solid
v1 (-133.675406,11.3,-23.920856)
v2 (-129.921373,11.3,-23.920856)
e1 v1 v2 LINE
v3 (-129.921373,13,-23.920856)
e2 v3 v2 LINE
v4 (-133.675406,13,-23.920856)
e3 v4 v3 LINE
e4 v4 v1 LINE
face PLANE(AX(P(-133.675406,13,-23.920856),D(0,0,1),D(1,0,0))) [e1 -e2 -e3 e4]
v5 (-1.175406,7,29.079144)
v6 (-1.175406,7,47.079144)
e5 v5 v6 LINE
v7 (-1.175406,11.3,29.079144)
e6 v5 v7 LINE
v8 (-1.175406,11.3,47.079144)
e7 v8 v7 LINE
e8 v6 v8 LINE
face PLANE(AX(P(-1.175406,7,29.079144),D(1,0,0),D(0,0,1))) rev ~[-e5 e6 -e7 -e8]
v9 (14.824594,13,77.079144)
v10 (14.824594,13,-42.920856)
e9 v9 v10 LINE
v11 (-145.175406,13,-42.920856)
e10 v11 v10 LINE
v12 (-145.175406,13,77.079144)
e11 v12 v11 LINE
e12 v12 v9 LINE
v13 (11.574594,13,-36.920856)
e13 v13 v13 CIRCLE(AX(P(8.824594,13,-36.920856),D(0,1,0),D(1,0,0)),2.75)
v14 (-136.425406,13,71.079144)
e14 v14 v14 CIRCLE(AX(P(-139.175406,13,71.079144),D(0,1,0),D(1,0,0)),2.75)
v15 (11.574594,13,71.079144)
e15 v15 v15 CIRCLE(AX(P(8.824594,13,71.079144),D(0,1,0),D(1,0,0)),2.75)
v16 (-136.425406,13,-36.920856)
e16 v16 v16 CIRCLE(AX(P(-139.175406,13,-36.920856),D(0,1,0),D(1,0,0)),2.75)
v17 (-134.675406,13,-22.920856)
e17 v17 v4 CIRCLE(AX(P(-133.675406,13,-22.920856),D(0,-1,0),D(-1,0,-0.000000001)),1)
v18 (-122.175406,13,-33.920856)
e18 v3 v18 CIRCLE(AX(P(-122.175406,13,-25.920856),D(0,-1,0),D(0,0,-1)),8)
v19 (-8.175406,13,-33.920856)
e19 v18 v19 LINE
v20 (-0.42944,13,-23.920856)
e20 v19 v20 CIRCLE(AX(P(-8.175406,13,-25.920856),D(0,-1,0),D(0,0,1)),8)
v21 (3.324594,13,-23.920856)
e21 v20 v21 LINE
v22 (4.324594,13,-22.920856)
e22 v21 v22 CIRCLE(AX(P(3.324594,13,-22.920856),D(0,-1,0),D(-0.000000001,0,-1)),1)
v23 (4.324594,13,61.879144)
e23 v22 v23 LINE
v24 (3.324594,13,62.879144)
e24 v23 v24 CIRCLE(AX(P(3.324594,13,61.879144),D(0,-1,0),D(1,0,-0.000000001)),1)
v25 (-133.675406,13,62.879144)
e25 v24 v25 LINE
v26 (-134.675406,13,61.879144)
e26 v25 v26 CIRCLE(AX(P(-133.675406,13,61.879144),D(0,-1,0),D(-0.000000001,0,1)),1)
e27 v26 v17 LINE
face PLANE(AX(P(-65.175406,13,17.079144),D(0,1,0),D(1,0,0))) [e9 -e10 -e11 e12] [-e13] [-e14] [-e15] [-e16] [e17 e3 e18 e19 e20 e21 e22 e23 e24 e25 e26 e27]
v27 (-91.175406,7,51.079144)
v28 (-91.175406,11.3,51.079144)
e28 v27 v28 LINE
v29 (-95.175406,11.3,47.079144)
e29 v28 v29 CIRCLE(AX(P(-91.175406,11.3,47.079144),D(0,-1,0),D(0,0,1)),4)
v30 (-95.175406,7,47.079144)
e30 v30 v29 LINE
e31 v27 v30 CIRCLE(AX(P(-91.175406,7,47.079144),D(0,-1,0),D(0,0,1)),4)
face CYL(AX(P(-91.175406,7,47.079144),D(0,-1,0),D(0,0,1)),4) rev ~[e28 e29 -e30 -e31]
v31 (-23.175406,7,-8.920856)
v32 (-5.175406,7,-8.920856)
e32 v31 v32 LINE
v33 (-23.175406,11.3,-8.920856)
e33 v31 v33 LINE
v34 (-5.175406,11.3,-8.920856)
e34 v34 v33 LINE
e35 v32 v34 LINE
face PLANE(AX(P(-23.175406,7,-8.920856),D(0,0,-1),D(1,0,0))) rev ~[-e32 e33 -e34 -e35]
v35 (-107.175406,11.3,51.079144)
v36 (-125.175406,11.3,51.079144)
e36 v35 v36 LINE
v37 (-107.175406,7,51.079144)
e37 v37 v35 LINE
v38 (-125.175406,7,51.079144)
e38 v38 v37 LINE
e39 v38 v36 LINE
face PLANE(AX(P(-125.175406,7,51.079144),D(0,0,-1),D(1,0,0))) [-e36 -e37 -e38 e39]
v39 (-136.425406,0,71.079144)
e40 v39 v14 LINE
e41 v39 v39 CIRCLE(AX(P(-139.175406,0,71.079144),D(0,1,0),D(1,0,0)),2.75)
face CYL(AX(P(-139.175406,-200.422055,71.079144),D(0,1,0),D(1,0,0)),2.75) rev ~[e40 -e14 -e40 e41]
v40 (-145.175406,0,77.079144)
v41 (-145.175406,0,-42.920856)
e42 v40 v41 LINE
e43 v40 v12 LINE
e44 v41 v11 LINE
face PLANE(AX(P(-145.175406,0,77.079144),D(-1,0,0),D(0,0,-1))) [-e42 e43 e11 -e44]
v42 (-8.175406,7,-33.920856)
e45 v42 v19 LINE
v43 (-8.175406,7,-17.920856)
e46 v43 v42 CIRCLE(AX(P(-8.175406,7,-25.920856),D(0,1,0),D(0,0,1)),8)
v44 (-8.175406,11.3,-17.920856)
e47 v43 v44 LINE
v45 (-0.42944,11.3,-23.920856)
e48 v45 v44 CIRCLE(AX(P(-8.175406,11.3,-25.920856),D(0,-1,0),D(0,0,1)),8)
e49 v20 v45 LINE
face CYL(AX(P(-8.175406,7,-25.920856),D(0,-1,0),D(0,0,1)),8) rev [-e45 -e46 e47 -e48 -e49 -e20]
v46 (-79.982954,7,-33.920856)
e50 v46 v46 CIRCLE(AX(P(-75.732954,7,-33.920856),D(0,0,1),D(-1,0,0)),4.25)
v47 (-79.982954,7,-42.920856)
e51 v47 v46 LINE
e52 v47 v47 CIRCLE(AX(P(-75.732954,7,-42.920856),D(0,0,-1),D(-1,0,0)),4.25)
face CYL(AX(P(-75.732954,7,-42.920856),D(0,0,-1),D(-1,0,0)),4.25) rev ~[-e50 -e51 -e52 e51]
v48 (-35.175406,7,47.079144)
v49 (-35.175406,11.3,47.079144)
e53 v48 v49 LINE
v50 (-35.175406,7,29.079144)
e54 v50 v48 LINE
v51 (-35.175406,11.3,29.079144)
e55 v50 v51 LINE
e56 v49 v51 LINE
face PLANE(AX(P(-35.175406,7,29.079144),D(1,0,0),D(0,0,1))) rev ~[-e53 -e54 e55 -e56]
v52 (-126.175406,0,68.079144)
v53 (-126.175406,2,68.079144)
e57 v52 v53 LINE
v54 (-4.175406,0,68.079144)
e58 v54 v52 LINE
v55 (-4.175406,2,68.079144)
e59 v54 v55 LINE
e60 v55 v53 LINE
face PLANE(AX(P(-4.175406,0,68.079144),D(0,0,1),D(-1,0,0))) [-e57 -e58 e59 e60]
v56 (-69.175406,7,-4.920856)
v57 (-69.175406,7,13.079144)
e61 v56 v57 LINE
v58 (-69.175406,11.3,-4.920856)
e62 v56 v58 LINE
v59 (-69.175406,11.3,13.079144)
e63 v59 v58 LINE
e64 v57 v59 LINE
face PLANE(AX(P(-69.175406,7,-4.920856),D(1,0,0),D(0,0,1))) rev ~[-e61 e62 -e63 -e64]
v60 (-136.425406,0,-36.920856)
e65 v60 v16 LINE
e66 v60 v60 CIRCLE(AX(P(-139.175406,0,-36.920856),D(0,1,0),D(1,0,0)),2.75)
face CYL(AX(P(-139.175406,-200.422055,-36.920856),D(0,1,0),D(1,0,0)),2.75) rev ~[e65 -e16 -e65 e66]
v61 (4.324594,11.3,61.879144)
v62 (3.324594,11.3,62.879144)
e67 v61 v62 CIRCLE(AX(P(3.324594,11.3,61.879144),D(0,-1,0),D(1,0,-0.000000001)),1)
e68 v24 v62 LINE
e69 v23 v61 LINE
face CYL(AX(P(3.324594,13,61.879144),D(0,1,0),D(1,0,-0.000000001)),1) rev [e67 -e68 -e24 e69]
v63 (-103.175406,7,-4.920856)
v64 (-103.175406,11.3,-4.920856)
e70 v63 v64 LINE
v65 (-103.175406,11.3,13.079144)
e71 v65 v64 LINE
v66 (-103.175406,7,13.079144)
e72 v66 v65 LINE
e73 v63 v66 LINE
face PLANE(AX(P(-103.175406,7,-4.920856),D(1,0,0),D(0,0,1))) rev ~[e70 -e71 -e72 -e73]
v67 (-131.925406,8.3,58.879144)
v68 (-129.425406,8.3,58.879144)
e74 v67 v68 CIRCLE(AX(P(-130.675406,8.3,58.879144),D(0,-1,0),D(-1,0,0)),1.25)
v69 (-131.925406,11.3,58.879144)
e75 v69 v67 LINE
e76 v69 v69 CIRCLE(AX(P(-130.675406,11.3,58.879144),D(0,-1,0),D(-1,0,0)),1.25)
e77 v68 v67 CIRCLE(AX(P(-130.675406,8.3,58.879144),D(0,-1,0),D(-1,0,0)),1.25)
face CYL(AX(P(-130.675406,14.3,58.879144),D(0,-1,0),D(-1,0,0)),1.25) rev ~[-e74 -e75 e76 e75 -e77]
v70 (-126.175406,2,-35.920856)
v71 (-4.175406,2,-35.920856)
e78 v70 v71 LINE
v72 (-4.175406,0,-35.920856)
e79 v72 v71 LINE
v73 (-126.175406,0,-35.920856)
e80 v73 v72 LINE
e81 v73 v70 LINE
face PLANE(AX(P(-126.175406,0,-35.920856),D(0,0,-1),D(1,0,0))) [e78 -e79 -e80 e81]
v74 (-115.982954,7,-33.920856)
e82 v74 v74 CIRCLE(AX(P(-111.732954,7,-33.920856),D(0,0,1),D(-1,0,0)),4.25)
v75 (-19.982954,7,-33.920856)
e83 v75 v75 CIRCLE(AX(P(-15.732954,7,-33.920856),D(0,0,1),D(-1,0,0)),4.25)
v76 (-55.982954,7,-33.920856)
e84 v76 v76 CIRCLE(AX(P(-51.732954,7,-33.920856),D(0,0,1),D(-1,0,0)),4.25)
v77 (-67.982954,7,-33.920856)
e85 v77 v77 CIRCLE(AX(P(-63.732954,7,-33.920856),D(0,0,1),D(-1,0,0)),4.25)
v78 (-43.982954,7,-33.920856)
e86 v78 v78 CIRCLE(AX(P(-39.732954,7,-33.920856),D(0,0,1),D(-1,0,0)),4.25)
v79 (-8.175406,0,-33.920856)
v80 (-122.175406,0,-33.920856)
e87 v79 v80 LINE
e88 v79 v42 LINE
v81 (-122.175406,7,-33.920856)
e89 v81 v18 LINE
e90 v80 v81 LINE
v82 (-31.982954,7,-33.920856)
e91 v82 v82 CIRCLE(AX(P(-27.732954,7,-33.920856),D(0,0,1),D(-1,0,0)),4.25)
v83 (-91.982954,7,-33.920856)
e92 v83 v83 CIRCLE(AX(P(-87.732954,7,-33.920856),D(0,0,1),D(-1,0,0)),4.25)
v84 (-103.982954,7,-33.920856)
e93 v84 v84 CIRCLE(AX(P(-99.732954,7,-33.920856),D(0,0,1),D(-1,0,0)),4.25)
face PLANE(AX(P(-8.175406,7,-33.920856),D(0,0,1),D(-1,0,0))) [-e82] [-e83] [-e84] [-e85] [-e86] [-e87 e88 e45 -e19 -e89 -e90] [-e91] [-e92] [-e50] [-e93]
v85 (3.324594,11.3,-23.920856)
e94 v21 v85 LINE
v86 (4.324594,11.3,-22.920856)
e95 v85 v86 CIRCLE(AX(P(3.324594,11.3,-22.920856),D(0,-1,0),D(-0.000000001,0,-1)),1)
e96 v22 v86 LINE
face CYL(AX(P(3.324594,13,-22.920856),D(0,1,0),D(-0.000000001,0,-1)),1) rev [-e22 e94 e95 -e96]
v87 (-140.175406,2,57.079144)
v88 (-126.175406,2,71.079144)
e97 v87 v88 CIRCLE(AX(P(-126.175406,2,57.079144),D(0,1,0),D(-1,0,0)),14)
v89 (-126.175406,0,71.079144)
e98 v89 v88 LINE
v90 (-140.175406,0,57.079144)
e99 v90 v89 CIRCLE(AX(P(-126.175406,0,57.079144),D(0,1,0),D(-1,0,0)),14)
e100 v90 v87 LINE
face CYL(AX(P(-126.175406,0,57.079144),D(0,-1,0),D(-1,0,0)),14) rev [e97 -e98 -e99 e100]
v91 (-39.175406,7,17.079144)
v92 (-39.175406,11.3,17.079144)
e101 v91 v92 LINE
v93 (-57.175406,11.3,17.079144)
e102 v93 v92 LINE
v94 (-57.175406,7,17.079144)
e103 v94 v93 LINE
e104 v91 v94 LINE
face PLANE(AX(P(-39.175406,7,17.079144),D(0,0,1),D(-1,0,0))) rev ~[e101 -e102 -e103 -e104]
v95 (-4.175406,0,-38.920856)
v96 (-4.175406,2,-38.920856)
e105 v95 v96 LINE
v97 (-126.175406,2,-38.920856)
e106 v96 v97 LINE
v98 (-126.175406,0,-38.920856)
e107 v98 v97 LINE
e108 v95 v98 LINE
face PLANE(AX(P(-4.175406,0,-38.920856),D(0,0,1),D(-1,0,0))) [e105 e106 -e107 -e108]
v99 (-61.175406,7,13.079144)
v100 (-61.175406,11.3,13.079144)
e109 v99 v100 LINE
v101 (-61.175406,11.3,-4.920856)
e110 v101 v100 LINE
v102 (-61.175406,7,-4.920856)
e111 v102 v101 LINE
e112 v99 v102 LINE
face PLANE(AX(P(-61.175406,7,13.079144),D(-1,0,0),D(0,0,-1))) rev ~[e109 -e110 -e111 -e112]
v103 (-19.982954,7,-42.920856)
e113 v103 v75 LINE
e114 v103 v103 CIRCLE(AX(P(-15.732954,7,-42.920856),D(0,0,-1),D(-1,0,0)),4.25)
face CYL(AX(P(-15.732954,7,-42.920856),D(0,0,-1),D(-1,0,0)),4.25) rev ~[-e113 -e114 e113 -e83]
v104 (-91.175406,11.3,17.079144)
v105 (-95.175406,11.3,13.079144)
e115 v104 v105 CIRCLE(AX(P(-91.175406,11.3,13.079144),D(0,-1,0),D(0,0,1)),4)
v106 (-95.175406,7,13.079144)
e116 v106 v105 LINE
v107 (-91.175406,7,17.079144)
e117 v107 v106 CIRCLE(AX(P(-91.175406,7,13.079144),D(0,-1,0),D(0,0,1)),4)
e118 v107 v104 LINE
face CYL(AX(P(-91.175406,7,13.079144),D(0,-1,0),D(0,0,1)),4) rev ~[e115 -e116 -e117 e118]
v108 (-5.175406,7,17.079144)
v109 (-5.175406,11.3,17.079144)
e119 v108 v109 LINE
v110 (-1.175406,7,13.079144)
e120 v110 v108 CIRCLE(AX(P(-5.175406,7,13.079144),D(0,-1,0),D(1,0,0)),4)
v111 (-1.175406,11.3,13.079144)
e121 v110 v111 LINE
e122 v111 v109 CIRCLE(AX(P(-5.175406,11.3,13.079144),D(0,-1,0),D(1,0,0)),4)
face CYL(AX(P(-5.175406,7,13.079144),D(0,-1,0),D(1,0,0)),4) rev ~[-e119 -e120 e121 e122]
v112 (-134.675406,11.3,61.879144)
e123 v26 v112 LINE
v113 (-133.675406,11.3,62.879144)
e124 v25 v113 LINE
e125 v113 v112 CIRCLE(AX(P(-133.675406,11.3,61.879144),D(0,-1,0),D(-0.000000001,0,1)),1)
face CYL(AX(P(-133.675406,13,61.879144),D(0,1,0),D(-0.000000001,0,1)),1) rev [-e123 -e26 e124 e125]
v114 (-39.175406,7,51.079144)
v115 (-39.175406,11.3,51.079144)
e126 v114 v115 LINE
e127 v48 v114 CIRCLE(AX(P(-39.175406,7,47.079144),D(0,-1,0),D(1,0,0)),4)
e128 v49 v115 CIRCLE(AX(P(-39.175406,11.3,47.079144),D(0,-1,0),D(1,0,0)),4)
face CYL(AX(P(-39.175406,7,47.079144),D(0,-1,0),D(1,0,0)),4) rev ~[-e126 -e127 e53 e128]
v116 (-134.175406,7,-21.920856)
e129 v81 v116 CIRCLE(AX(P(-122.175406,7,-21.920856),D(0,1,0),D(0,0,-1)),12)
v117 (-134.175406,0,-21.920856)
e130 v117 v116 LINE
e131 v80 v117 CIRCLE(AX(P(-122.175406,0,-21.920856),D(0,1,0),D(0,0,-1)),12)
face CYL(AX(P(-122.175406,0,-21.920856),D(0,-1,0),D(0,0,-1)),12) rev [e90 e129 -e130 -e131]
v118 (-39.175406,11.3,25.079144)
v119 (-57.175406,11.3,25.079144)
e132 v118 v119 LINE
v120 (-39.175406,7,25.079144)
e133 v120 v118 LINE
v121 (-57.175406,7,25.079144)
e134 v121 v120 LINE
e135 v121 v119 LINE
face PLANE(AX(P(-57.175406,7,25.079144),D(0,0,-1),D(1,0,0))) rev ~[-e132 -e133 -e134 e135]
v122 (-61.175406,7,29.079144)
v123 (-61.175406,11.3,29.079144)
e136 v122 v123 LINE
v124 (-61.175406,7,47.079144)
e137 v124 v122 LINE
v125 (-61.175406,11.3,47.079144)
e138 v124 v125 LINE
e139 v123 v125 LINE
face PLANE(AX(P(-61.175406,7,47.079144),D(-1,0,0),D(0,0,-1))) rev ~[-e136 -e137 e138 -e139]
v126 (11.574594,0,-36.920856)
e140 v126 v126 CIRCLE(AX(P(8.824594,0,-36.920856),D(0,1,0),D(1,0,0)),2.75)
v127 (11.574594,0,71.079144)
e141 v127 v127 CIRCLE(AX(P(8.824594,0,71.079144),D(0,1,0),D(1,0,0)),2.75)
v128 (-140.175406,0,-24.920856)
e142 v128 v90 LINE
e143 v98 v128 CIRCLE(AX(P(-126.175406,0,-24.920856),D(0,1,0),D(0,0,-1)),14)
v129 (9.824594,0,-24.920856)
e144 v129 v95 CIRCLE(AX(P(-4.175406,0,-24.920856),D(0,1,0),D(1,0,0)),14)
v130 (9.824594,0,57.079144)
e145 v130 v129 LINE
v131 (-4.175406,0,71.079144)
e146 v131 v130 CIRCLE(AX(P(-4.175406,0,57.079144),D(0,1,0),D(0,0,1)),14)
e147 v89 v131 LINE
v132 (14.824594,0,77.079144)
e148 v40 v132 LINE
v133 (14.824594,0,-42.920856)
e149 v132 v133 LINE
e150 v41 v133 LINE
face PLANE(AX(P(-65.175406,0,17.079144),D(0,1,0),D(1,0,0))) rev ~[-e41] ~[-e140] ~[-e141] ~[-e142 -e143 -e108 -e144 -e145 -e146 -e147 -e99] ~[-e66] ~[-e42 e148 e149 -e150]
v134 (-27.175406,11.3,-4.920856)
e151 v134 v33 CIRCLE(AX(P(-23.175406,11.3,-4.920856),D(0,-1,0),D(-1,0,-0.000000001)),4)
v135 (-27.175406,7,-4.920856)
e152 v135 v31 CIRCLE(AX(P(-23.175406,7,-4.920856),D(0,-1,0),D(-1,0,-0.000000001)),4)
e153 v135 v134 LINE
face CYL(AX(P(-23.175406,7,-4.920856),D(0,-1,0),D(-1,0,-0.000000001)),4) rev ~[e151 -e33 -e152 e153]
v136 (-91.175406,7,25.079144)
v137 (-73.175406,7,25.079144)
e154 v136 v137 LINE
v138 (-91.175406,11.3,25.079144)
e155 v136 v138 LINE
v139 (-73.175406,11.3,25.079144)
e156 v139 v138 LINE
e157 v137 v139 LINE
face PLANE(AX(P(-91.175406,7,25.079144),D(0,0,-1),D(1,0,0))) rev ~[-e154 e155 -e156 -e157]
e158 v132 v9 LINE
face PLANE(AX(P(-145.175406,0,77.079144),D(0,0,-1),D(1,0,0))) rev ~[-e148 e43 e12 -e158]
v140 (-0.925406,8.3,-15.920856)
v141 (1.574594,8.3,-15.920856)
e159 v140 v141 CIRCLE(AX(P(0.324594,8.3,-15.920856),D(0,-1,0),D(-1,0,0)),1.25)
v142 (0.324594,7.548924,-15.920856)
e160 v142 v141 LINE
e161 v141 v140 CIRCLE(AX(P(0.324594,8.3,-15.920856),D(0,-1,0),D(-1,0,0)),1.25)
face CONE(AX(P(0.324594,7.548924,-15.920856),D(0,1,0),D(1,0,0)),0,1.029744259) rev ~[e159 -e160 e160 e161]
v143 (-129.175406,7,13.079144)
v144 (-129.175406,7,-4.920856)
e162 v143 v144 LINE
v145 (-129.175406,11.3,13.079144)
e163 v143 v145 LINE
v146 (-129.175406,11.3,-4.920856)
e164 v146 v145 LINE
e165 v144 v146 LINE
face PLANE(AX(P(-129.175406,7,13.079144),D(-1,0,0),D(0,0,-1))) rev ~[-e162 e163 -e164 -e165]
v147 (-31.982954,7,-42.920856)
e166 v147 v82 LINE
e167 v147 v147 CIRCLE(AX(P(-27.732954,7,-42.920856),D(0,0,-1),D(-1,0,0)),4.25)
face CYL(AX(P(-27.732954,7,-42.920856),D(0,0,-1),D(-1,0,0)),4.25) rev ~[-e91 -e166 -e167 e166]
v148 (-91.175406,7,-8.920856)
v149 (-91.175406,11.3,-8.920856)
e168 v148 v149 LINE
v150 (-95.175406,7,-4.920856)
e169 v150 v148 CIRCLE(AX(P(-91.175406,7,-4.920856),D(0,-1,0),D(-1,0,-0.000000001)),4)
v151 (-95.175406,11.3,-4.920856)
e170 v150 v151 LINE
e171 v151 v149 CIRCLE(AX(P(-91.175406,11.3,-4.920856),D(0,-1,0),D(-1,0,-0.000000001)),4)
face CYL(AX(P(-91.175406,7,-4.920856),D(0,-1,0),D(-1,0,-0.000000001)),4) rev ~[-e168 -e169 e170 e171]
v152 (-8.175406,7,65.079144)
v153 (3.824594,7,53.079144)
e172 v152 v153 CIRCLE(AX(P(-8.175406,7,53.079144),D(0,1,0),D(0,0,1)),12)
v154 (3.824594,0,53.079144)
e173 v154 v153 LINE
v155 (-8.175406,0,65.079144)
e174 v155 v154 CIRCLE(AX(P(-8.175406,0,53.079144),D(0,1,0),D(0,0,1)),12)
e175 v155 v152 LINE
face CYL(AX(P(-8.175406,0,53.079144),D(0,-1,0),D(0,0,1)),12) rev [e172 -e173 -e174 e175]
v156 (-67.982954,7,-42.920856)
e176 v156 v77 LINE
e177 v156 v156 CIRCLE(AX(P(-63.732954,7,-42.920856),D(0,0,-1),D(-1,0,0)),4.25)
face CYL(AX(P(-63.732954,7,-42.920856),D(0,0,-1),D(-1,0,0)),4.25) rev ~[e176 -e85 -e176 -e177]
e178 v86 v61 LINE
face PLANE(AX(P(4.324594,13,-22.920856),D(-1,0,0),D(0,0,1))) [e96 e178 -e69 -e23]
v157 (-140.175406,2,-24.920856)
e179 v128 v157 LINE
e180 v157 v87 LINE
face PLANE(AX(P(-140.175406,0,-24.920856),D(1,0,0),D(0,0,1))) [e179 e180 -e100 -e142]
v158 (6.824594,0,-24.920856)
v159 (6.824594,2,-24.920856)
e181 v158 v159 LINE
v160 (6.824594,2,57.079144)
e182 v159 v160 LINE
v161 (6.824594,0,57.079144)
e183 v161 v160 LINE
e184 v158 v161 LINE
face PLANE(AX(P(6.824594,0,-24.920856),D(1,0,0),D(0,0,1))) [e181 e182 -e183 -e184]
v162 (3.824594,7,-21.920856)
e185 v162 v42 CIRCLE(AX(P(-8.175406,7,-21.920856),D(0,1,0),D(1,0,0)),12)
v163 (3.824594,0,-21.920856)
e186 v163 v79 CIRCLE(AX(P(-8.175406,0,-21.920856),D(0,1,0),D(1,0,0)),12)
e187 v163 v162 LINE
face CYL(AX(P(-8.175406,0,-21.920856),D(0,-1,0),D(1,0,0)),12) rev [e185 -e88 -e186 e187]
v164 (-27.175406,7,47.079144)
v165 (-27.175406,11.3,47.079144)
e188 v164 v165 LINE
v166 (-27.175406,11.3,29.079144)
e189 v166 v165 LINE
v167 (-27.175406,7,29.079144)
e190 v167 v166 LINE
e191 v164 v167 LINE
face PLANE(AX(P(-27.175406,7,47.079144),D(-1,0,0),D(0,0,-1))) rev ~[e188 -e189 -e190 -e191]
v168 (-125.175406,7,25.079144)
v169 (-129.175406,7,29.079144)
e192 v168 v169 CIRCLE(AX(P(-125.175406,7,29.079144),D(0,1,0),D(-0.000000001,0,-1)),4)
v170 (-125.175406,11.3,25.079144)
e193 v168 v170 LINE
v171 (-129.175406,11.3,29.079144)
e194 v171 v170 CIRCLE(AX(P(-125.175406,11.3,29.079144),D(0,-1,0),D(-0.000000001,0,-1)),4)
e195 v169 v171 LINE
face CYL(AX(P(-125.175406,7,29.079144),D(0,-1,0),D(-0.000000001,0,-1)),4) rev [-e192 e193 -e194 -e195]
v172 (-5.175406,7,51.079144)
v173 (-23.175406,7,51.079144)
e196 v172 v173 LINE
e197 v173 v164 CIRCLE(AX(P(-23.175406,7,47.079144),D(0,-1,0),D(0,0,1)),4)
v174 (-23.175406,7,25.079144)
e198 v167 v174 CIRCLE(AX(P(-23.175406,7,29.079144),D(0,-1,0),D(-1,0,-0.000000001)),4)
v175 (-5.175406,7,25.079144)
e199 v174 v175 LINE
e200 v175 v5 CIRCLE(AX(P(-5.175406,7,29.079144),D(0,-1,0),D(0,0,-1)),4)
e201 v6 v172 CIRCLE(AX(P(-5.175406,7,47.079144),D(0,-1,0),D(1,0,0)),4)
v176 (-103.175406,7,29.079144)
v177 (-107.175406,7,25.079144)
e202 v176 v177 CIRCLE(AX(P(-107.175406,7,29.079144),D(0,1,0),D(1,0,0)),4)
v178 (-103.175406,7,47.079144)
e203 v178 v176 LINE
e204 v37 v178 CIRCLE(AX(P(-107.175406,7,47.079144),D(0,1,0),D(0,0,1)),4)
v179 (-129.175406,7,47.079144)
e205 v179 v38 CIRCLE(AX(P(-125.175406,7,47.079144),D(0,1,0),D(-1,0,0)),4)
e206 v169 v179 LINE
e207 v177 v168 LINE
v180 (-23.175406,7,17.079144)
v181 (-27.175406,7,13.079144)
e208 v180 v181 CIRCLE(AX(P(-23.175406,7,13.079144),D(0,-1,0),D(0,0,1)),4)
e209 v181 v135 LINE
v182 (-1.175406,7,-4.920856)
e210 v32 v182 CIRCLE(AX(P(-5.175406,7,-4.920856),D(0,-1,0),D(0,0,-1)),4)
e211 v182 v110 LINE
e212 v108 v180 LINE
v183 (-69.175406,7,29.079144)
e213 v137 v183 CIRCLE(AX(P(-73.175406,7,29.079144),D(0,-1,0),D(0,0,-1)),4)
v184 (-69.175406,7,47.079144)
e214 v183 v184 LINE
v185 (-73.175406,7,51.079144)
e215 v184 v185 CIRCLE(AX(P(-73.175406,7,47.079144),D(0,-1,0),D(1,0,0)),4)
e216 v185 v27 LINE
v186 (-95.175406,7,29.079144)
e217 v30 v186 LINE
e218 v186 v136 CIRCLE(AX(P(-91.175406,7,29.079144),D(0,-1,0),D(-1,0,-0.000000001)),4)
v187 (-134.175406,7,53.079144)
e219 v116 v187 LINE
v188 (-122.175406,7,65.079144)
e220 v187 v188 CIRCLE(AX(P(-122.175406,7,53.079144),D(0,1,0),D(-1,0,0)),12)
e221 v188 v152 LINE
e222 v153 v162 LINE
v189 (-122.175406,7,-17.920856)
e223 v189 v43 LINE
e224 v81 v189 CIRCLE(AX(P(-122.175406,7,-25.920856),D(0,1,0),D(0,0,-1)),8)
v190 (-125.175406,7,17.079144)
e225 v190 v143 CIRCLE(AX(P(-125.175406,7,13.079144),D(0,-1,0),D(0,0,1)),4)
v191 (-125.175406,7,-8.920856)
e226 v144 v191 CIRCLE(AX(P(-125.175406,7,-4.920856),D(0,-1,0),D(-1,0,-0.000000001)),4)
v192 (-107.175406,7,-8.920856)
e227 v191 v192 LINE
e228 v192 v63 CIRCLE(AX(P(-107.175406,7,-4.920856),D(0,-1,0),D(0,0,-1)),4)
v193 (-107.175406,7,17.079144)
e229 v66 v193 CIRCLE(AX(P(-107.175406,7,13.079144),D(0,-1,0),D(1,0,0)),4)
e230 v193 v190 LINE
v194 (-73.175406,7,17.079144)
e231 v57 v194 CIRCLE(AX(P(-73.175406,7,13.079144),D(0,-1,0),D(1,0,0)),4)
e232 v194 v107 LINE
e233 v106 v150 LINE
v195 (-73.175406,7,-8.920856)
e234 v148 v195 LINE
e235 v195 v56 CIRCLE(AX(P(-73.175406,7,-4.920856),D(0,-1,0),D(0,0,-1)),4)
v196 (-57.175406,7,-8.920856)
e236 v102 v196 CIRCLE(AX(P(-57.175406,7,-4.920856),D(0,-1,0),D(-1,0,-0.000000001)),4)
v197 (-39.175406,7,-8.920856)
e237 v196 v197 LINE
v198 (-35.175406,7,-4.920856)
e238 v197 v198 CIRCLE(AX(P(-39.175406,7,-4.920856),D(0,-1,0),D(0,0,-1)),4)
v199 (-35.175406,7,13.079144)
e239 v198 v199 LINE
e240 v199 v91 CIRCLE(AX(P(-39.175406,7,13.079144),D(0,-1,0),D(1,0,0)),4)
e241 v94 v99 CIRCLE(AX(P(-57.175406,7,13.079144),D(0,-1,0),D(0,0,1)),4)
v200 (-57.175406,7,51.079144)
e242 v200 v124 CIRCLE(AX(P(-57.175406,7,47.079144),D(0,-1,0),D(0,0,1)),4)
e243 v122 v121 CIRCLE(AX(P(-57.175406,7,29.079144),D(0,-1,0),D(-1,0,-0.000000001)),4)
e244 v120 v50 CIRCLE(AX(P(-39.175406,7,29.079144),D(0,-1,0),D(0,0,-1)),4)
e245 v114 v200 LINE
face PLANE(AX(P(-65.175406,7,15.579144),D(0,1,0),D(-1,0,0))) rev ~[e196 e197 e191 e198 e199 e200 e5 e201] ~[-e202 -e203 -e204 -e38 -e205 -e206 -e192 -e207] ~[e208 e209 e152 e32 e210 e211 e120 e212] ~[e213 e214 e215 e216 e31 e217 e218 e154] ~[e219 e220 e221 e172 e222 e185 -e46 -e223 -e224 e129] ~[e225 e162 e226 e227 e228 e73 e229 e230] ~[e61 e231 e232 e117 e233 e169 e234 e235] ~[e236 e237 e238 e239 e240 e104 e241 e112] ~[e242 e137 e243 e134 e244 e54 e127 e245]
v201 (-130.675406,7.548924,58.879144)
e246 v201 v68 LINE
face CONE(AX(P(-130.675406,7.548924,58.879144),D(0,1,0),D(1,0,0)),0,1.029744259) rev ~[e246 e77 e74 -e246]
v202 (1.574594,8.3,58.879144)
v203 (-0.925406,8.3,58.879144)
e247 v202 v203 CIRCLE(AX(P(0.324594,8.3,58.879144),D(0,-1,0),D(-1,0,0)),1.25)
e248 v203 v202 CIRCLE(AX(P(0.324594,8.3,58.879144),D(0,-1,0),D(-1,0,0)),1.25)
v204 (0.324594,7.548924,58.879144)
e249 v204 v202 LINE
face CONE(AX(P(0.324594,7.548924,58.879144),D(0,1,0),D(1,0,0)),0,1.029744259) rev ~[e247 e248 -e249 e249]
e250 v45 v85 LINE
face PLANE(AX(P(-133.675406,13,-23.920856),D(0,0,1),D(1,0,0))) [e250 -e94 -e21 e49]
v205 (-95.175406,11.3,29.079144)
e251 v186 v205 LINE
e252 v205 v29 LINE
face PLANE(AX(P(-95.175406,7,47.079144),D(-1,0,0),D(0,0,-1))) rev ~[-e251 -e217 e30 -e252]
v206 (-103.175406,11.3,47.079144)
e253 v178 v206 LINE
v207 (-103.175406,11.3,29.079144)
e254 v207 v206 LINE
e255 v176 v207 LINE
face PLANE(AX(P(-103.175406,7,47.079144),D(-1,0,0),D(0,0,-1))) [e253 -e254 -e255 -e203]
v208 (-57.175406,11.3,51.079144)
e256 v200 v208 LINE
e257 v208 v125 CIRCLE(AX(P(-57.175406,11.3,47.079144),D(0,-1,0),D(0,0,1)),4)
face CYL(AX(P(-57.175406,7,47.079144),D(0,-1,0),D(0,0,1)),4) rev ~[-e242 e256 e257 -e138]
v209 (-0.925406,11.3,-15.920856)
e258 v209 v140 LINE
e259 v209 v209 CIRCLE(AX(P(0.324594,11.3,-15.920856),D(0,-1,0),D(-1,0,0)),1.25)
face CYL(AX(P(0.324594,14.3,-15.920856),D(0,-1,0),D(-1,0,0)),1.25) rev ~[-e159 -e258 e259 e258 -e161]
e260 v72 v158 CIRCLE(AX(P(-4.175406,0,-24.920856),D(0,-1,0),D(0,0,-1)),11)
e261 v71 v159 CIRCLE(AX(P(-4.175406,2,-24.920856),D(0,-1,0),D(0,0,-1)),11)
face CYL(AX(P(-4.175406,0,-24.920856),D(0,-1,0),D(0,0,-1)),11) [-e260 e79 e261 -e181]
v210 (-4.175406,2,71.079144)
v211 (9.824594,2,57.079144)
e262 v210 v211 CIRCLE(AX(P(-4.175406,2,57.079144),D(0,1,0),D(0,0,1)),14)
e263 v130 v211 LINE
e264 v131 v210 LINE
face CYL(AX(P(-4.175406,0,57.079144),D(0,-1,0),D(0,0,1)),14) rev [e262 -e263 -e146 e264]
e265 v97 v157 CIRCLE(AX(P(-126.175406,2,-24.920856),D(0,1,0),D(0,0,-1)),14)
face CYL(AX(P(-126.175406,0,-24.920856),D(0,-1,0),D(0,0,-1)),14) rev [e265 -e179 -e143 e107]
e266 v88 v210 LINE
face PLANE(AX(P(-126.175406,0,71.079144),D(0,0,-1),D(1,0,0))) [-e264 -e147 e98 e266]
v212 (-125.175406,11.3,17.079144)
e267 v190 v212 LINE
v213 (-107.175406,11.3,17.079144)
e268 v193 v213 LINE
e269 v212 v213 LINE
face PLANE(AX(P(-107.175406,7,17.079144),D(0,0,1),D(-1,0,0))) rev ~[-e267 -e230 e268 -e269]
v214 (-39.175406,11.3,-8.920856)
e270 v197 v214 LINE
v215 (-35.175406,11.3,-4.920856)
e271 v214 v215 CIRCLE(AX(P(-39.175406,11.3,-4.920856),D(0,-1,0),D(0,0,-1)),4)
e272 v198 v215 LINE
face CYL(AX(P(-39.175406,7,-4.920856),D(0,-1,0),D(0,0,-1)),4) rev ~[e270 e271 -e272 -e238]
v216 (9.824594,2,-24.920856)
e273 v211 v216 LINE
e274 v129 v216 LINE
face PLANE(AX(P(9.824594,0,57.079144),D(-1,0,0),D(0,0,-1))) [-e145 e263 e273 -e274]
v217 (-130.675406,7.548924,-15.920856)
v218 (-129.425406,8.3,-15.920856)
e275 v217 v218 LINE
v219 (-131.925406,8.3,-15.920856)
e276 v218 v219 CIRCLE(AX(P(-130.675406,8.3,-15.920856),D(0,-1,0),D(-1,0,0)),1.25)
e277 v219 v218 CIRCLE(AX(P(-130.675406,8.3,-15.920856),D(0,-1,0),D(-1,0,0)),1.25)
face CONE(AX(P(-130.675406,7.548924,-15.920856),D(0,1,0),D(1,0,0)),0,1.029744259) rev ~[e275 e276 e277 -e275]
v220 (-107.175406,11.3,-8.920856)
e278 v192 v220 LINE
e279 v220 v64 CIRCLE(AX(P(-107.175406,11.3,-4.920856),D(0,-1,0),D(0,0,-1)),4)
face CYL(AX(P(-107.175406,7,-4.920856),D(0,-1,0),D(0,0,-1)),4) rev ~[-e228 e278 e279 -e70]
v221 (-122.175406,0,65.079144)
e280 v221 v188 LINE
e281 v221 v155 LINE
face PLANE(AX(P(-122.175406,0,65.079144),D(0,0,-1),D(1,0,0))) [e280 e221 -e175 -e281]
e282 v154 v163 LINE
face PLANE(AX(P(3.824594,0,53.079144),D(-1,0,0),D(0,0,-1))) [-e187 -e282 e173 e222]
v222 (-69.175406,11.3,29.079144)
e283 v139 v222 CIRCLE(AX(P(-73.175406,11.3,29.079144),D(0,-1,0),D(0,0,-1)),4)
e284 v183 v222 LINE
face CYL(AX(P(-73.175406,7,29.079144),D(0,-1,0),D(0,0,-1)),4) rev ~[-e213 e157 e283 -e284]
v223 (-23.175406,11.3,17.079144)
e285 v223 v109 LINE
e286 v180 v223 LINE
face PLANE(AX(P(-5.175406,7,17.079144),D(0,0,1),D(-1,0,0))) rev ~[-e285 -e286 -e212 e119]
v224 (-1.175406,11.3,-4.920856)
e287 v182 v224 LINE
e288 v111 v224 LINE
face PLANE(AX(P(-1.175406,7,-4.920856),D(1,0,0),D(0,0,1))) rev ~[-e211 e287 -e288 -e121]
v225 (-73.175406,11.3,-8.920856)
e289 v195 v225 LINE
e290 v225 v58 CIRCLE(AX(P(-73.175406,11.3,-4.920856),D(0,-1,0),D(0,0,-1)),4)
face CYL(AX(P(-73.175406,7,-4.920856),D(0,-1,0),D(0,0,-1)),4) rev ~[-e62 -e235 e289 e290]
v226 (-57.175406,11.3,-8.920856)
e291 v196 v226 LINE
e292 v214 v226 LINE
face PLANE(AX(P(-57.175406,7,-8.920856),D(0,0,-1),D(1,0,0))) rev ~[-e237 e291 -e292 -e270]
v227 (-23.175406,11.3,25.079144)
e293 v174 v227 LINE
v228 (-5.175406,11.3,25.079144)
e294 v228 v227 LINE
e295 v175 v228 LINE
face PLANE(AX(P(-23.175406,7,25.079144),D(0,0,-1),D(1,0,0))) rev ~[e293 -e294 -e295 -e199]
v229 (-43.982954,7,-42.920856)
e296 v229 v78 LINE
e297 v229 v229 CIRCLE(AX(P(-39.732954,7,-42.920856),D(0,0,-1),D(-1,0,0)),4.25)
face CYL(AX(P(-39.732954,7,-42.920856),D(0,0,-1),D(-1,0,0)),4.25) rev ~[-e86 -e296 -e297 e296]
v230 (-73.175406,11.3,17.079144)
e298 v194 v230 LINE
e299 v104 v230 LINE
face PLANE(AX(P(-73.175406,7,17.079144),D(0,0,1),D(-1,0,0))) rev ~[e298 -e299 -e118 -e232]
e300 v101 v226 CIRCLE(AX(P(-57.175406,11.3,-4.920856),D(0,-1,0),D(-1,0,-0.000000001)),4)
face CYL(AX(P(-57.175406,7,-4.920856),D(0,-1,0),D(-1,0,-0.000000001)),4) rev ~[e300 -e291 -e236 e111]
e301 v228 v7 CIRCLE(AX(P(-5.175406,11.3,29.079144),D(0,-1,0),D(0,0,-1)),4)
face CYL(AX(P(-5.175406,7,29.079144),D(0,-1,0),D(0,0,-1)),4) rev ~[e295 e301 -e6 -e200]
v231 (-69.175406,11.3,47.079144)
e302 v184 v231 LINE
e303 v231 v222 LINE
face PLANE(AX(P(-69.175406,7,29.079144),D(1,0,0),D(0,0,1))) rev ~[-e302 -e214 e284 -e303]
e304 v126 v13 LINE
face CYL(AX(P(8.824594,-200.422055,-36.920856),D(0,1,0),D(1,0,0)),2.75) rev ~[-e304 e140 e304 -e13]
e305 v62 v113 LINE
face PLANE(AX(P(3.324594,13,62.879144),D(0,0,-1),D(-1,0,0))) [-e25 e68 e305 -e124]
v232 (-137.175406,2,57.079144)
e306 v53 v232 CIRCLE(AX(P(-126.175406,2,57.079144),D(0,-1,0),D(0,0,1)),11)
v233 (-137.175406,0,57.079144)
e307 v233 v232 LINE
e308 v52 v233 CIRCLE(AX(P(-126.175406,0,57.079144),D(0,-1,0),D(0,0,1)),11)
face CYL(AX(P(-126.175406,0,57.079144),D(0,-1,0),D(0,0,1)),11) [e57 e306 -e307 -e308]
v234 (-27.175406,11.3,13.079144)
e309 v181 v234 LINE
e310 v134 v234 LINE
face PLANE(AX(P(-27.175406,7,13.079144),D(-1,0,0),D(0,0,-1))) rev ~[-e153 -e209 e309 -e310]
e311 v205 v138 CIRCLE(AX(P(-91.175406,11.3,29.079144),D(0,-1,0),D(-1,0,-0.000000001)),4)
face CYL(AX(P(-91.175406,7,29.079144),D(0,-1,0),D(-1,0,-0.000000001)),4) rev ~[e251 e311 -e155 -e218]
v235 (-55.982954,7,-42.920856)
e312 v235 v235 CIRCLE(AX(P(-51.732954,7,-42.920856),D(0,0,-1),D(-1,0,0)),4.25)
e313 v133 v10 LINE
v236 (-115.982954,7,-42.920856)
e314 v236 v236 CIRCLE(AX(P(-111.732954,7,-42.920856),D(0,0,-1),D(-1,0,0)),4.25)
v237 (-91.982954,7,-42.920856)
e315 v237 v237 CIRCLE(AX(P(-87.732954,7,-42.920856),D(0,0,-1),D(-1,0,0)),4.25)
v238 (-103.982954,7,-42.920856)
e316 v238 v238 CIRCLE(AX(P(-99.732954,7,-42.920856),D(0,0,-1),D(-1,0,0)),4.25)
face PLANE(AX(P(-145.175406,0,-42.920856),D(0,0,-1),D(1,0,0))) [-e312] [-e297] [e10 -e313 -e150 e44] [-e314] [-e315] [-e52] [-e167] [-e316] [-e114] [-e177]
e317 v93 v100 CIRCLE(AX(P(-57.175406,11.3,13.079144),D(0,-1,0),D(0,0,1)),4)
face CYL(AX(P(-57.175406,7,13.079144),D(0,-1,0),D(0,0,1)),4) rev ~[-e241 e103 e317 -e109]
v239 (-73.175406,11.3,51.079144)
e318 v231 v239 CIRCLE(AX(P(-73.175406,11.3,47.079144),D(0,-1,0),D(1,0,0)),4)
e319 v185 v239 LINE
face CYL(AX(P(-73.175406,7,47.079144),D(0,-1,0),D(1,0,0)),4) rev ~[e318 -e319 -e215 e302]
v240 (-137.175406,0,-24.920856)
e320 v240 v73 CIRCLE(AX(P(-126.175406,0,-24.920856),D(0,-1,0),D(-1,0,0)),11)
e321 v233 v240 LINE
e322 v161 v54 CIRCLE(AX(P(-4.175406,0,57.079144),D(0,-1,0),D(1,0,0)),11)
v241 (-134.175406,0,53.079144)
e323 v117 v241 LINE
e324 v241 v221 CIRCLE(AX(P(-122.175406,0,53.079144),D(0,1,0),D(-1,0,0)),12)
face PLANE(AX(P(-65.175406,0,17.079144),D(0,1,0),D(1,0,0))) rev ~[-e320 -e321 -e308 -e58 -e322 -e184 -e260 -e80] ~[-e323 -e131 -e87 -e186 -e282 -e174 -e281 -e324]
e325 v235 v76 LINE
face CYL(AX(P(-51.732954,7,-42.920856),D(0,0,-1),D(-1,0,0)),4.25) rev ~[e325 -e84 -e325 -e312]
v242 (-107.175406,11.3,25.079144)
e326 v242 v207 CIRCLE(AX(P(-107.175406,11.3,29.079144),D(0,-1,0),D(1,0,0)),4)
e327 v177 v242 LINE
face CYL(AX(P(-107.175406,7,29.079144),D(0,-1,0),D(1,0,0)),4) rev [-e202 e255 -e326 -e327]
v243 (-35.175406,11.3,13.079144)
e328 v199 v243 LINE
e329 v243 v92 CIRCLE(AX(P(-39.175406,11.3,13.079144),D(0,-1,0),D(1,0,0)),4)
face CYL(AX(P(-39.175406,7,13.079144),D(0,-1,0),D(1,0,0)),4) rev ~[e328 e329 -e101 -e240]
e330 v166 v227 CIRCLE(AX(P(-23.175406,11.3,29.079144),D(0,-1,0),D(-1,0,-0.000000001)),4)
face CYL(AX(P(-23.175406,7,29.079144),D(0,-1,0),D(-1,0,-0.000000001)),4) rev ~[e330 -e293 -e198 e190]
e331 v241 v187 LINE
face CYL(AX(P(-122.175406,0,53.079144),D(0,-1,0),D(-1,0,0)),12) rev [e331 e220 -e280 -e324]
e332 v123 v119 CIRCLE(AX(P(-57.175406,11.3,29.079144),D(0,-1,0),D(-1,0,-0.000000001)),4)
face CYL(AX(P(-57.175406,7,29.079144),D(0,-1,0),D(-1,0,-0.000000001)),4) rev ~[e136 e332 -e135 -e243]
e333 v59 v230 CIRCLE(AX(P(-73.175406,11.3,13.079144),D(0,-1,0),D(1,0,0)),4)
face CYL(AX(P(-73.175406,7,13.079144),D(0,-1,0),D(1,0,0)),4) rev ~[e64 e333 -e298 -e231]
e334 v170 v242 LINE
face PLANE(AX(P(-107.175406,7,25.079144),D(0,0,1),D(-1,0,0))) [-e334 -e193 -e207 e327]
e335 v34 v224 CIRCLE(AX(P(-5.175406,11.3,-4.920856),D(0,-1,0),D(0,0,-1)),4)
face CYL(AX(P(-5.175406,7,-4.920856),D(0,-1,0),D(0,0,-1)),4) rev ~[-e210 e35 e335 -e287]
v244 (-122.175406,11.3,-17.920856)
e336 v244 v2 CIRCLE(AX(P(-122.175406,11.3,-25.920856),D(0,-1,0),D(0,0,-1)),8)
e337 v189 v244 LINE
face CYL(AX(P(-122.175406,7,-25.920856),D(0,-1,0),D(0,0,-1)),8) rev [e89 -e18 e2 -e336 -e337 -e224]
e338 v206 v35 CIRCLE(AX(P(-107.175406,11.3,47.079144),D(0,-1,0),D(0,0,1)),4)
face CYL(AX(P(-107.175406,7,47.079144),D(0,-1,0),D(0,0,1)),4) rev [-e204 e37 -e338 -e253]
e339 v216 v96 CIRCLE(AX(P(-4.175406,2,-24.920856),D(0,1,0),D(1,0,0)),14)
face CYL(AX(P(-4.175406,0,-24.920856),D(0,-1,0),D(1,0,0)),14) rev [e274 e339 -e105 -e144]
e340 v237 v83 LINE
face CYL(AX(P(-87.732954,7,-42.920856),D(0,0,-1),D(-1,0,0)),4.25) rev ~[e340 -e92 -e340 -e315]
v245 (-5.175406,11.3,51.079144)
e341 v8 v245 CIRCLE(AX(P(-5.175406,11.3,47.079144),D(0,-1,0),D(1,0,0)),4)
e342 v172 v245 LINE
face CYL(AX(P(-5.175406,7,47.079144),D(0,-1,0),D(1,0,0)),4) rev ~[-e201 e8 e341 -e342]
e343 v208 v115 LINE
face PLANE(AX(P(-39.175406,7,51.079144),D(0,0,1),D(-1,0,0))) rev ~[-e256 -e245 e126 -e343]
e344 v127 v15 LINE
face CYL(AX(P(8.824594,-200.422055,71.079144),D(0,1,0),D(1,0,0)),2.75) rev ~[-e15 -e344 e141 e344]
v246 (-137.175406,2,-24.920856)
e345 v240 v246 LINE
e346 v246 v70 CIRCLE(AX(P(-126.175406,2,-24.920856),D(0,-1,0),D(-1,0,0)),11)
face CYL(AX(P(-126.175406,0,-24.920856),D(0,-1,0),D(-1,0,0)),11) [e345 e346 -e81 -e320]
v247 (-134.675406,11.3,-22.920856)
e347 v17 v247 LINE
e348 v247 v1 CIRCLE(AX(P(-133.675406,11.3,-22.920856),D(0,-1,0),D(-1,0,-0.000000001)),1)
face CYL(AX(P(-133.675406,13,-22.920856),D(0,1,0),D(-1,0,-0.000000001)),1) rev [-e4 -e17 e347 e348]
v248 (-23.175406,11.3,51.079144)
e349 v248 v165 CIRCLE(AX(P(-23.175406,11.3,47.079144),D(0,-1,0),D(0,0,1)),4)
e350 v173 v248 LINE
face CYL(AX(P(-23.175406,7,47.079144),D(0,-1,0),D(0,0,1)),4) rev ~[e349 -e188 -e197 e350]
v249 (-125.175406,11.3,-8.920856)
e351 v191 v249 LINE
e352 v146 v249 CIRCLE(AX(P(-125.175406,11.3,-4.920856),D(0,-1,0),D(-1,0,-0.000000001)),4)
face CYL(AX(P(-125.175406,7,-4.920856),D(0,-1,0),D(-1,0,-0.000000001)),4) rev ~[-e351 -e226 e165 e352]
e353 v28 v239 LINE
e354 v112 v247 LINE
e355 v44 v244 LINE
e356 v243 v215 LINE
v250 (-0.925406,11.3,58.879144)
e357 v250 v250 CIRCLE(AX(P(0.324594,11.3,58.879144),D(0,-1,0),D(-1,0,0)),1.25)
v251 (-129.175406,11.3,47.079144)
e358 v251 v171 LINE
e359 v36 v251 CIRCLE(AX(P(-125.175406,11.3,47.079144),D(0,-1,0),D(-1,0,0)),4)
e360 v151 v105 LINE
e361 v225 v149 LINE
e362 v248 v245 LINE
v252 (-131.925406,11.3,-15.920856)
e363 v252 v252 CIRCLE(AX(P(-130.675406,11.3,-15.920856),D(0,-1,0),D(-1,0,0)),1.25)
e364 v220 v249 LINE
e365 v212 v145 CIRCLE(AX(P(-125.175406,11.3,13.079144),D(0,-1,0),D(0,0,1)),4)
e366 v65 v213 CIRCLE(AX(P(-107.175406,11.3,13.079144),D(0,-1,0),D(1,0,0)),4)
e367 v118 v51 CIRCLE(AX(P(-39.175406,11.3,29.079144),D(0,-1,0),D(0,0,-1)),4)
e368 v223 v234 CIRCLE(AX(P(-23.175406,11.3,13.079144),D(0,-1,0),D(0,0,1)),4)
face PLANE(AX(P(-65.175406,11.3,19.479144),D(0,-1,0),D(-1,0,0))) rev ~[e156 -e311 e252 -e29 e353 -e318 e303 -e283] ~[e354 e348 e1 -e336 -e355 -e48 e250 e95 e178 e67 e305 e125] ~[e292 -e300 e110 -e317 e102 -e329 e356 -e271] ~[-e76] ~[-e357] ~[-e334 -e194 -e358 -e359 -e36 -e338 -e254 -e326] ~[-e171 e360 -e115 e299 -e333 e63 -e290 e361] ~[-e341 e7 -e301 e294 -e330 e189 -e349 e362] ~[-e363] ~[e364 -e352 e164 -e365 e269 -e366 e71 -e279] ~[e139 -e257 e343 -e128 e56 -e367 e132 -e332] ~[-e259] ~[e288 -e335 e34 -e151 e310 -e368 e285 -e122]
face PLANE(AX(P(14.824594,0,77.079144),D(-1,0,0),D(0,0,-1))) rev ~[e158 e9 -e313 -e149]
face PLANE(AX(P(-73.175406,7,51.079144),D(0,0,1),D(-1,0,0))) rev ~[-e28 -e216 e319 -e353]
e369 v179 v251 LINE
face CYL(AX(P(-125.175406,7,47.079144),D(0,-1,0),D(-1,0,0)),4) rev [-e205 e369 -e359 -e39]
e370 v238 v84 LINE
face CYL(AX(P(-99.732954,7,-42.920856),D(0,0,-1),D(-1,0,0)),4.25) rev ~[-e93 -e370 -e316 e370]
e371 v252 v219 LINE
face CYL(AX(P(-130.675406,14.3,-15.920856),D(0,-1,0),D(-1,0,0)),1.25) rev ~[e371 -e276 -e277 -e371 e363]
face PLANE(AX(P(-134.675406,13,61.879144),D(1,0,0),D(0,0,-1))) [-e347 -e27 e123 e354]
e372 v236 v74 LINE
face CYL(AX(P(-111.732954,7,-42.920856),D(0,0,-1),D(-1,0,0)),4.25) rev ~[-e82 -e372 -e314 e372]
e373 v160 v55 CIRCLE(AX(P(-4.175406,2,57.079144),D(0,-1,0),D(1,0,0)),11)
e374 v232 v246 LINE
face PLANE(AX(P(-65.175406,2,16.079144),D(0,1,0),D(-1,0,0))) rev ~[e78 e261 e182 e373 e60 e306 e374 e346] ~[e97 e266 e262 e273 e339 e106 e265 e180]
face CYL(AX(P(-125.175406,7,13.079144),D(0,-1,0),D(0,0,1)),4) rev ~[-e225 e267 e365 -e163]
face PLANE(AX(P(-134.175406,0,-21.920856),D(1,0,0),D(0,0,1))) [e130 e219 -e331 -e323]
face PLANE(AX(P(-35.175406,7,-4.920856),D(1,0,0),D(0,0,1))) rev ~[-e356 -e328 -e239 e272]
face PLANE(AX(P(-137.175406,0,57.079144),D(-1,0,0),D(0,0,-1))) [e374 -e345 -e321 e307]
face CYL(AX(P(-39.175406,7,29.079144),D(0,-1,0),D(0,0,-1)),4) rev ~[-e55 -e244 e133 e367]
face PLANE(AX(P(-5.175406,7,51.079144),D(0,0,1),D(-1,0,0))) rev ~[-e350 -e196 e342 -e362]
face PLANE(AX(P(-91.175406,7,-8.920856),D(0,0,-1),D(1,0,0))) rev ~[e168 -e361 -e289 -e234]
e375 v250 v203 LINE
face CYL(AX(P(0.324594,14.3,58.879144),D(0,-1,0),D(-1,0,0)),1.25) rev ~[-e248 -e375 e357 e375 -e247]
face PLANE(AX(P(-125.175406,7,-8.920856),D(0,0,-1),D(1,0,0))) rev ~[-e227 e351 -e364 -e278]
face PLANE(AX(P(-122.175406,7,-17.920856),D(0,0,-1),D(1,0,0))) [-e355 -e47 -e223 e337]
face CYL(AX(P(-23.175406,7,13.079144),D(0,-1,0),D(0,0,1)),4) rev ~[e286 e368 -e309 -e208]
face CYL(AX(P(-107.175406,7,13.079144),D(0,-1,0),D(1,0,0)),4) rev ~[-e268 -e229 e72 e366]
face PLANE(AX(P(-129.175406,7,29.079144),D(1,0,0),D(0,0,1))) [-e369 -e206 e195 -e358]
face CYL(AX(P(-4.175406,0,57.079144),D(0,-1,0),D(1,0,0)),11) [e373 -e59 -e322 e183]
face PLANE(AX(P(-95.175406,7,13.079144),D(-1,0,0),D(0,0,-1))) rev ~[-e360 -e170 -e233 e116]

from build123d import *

# Parameters (mm, degrees)
ESQUISSE1_W                                   = 160
ESQUISSE1_H                                   = 120
BOSS_EXTRU_1_DEPTH                            = 13
ESQUISSE5_R                                   = 4.25
ENL_V_MAT_EXTRU_2_DEPTH                       = 12
ENL_V_MAT_EXTRU_6_DEPTH                       = 2
ENL_V_MAT_EXTRU_1_DEPTH                       = 7
ENL_V_MAT_EXTRU_3_DEPTH                       = 165.517759053
ENL_V_MAT_EXTRU_5_DEPTH                       = 165.517759053
D_GAGEMENT_M51_D                              = 5.5
ENL_V_MAT_EXTRU_7_DEPTH                       = 1.7
TROU_POUR_TARAUDAGE_POUR_TROU_TARAUD_M3_D     = 2.5
TROU_POUR_TARAUDAGE_POUR_TROU_TARAUD_M3_DEPTH = 3
TROU_POUR_TARAUDAGE_POUR_TROU_TARAUD_M3_TIP   = 0.751075774


with BuildPart() as part:
    # Esquisse1 → Boss.-Extru.1 (new body)
    with BuildSketch(Plane(origin=(0, 0, 0), x_dir=(1, 0, 0), z_dir=(0, 1, 0))):
        with Locations((-65.175406235, -17.079144186)):
            Rectangle(ESQUISSE1_W, ESQUISSE1_H)
    extrude(amount=BOSS_EXTRU_1_DEPTH)

    # Esquisse5 → Enlèv. mat.-Extru.2 (cut)
    with BuildSketch(Plane(origin=(0, 0, -42.920855814), x_dir=(-1, 0, 0), z_dir=(0, 0, -1))):
        with Locations((111.732954037, 7)):
            Circle(ESQUISSE5_R)
        with Locations((99.732954037, 7)):
            Circle(ESQUISSE5_R)
        with Locations((87.732954037, 7)):
            Circle(ESQUISSE5_R)
        with Locations((75.732954037, 7)):
            Circle(ESQUISSE5_R)
        with Locations((63.732954037, 7)):
            Circle(ESQUISSE5_R)
        with Locations((51.732954037, 7)):
            Circle(ESQUISSE5_R)
        with Locations((39.732954037, 7)):
            Circle(ESQUISSE5_R)
        with Locations((27.732954037, 7)):
            Circle(ESQUISSE5_R)
        with Locations((15.732954037, 7)):
            Circle(ESQUISSE5_R)
    extrude(amount=-ENL_V_MAT_EXTRU_2_DEPTH, mode=Mode.SUBTRACT)

    # Esquisse11 → Enlèv. mat.-Extru.6 (cut)
    with BuildSketch(Plane.XZ):
        with BuildLine():
            Line((-126.175406235, 71.079144186), (-4.175406235, 71.079144186))
            ThreePointArc((-4.175406235, 71.079144186), (5.724088702, 66.978639123), (9.824593765, 57.079144186))
            Line((9.824593765, 57.079144186), (9.824593765, -24.920855814))
            ThreePointArc((9.824593765, -24.920855814), (5.724088702, -34.82035075), (-4.175406235, -38.920855814))
            Line((-4.175406235, -38.920855814), (-126.175406235, -38.920855814))
            ThreePointArc((-126.175406235, -38.920855814), (-136.074901171, -34.82035075), (-140.175406235, -24.920855814))
            Line((-140.175406235, -24.920855814), (-140.175406235, 57.079144186))
            ThreePointArc((-140.175406235, 57.079144186), (-136.074901171, 66.978639123), (-126.175406235, 71.079144186))
        make_face()
        with BuildLine():
            Line((-137.175406235, 57.079144186), (-137.175406235, -24.920855814))
            ThreePointArc((-137.175406235, -24.920855814), (-133.953580828, -32.699030407), (-126.175406235, -35.920855814))
            Line((-126.175406235, -35.920855814), (-4.175406235, -35.920855814))
            ThreePointArc((-4.175406235, -35.920855814), (3.602768359, -32.699030407), (6.824593765, -24.920855814))
            Line((6.824593765, -24.920855814), (6.824593765, 57.079144186))
            ThreePointArc((6.824593765, 57.079144186), (3.602768359, 64.857318779), (-4.175406235, 68.079144186))
            Line((-4.175406235, 68.079144186), (-126.175406235, 68.079144186))
            ThreePointArc((-126.175406235, 68.079144186), (-133.953580828, 64.857318779), (-137.175406235, 57.079144186))
        make_face(mode=Mode.SUBTRACT)
    extrude(amount=-ENL_V_MAT_EXTRU_6_DEPTH, mode=Mode.SUBTRACT)

    # Esquisse4 → Enlèv. mat.-Extru.1 (cut)
    with BuildSketch(Plane.XZ):
        with BuildLine():
            Line((-122.175406235, 65.079144186), (-8.175406235, 65.079144186))
            ThreePointArc((-8.175406235, 65.079144186), (0.30987514, 61.564425561), (3.824593765, 53.079144186))
            Line((3.824593765, 53.079144186), (3.824593765, -21.920855814))
            ThreePointArc((3.824593765, -21.920855814), (0.30987514, -30.406137188), (-8.175406235, -33.920855814))
            Line((-8.175406235, -33.920855814), (-122.175406235, -33.920855814))
            ThreePointArc((-122.175406235, -33.920855814), (-130.660687609, -30.406137188), (-134.175406235, -21.920855814))
            Line((-134.175406235, -21.920855814), (-134.175406235, 53.079144186))
            ThreePointArc((-134.175406235, 53.079144186), (-130.660687609, 61.564425561), (-122.175406235, 65.079144186))
        make_face()
    extrude(amount=-ENL_V_MAT_EXTRU_1_DEPTH, mode=Mode.SUBTRACT)

    # Esquisse6 → Enlèv. mat.-Extru.3 (cut, through all)
    with BuildSketch(Plane.XZ.offset(-7)):
        with BuildLine():
            Line((-91.175406235, 25.079144186), (-73.175406235, 25.079144186))
            ThreePointArc((-73.175406235, 25.079144186), (-70.34697911, 26.250717062), (-69.175406235, 29.079144186))
            Line((-69.175406235, 29.079144186), (-69.175406235, 47.079144186))
            ThreePointArc((-69.175406235, 47.079144186), (-70.34697911, 49.907571311), (-73.175406235, 51.079144186))
            Line((-73.175406235, 51.079144186), (-91.175406235, 51.079144186))
            ThreePointArc((-91.175406235, 51.079144186), (-94.003833359, 49.907571311), (-95.175406235, 47.079144186))
            Line((-95.175406235, 47.079144186), (-95.175406235, 29.079144186))
            ThreePointArc((-95.175406235, 29.079144186), (-94.003833359, 26.250717062), (-91.175406235, 25.079144186))
        make_face()
        with BuildLine():
            Line((-125.175406235, 51.079144186), (-107.175406235, 51.079144186))
            ThreePointArc((-107.175406235, 51.079144186), (-104.34697911, 49.907571311), (-103.175406235, 47.079144186))
            Line((-103.175406235, 47.079144186), (-103.175406235, 29.079144186))
            ThreePointArc((-103.175406235, 29.079144186), (-104.34697911, 26.250717062), (-107.175406235, 25.079144186))
            Line((-107.175406235, 25.079144186), (-125.175406235, 25.079144186))
            ThreePointArc((-125.175406235, 25.079144186), (-128.003833359, 26.250717062), (-129.175406235, 29.079144186))
            Line((-129.175406235, 29.079144186), (-129.175406235, 47.079144186))
            ThreePointArc((-129.175406235, 47.079144186), (-128.003833359, 49.907571311), (-125.175406235, 51.079144186))
        make_face()
        with BuildLine():
            Line((-57.175406235, 25.079144186), (-39.175406235, 25.079144186))
            ThreePointArc((-39.175406235, 25.079144186), (-36.34697911, 26.250717062), (-35.175406235, 29.079144186))
            Line((-35.175406235, 29.079144186), (-35.175406235, 47.079144186))
            ThreePointArc((-35.175406235, 47.079144186), (-36.34697911, 49.907571311), (-39.175406235, 51.079144186))
            Line((-39.175406235, 51.079144186), (-57.175406235, 51.079144186))
            ThreePointArc((-57.175406235, 51.079144186), (-60.003833359, 49.907571311), (-61.175406235, 47.079144186))
            Line((-61.175406235, 47.079144186), (-61.175406235, 29.079144186))
            ThreePointArc((-61.175406235, 29.079144186), (-60.003833359, 26.250717062), (-57.175406235, 25.079144186))
        make_face()
        with BuildLine():
            Line((-23.175406235, 25.079144186), (-5.175406235, 25.079144186))
            ThreePointArc((-5.175406235, 25.079144186), (-2.34697911, 26.250717062), (-1.175406235, 29.079144186))
            Line((-1.175406235, 29.079144186), (-1.175406235, 47.079144186))
            ThreePointArc((-1.175406235, 47.079144186), (-2.34697911, 49.907571311), (-5.175406235, 51.079144186))
            Line((-5.175406235, 51.079144186), (-23.175406235, 51.079144186))
            ThreePointArc((-23.175406235, 51.079144186), (-26.003833359, 49.907571311), (-27.175406235, 47.079144186))
            Line((-27.175406235, 47.079144186), (-27.175406235, 29.079144186))
            ThreePointArc((-27.175406235, 29.079144186), (-26.003833359, 26.250717062), (-23.175406235, 25.079144186))
        make_face()
        with BuildLine():
            Line((-91.175406235, -8.920855814), (-73.175406235, -8.920855814))
            ThreePointArc((-73.175406235, -8.920855814), (-70.34697911, -7.749282938), (-69.175406235, -4.920855814))
            Line((-69.175406235, -4.920855814), (-69.175406235, 13.079144186))
            ThreePointArc((-69.175406235, 13.079144186), (-70.34697911, 15.907571311), (-73.175406235, 17.079144186))
            Line((-73.175406235, 17.079144186), (-91.175406235, 17.079144186))
            ThreePointArc((-91.175406235, 17.079144186), (-94.003833359, 15.907571311), (-95.175406235, 13.079144186))
            Line((-95.175406235, 13.079144186), (-95.175406235, -4.920855814))
            ThreePointArc((-95.175406235, -4.920855814), (-94.003833359, -7.749282938), (-91.175406235, -8.920855814))
        make_face()
        with BuildLine():
            Line((-57.175406235, -8.920855814), (-39.175406235, -8.920855814))
            ThreePointArc((-39.175406235, -8.920855814), (-36.34697911, -7.749282938), (-35.175406235, -4.920855814))
            Line((-35.175406235, -4.920855814), (-35.175406235, 13.079144186))
            ThreePointArc((-35.175406235, 13.079144186), (-36.34697911, 15.907571311), (-39.175406235, 17.079144186))
            Line((-39.175406235, 17.079144186), (-57.175406235, 17.079144186))
            ThreePointArc((-57.175406235, 17.079144186), (-60.003833359, 15.907571311), (-61.175406235, 13.079144186))
            Line((-61.175406235, 13.079144186), (-61.175406235, -4.920855814))
            ThreePointArc((-61.175406235, -4.920855814), (-60.003833359, -7.749282938), (-57.175406235, -8.920855814))
        make_face()
        with BuildLine():
            Line((-23.175406235, -8.920855814), (-5.175406235, -8.920855814))
            ThreePointArc((-5.175406235, -8.920855814), (-2.34697911, -7.749282938), (-1.175406235, -4.920855814))
            Line((-1.175406235, -4.920855814), (-1.175406235, 13.079144186))
            ThreePointArc((-1.175406235, 13.079144186), (-2.34697911, 15.907571311), (-5.175406235, 17.079144186))
            Line((-5.175406235, 17.079144186), (-23.175406235, 17.079144186))
            ThreePointArc((-23.175406235, 17.079144186), (-26.003833359, 15.907571311), (-27.175406235, 13.079144186))
            Line((-27.175406235, 13.079144186), (-27.175406235, -4.920855814))
            ThreePointArc((-27.175406235, -4.920855814), (-26.003833359, -7.749282938), (-23.175406235, -8.920855814))
        make_face()
        with BuildLine():
            Line((-125.175406235, -8.920855814), (-107.175406235, -8.920855814))
            ThreePointArc((-107.175406235, -8.920855814), (-104.34697911, -7.749282938), (-103.175406235, -4.920855814))
            Line((-103.175406235, -4.920855814), (-103.175406235, 13.079144186))
            ThreePointArc((-103.175406235, 13.079144186), (-104.34697911, 15.907571311), (-107.175406235, 17.079144186))
            Line((-107.175406235, 17.079144186), (-125.175406235, 17.079144186))
            ThreePointArc((-125.175406235, 17.079144186), (-128.003833359, 15.907571311), (-129.175406235, 13.079144186))
            Line((-129.175406235, 13.079144186), (-129.175406235, -4.920855814))
            ThreePointArc((-129.175406235, -4.920855814), (-128.003833359, -7.749282938), (-125.175406235, -8.920855814))
        make_face()
    extrude(amount=-ENL_V_MAT_EXTRU_3_DEPTH, mode=Mode.SUBTRACT)

    # Esquisse8 → Enlèv. mat.-Extru.5 (cut, through all)
    with BuildSketch(Plane.XZ.offset(-7)):
        with BuildLine():
            Line((-122.175406235, -17.920855814), (-8.175406235, -17.920855814))
            ThreePointArc((-8.175406235, -17.920855814), (-0.175406235, -25.920855814), (-8.175406235, -33.920855814))
            Line((-8.175406235, -33.920855814), (-122.175406235, -33.920855814))
            ThreePointArc((-122.175406235, -33.920855814), (-130.175406235, -25.920855814), (-122.175406235, -17.920855814))
        make_face()
    extrude(amount=-ENL_V_MAT_EXTRU_5_DEPTH, mode=Mode.SUBTRACT)

    # Dégagement M51 (through all)
    with Locations(Plane(origin=(0, 0, 0), x_dir=(-1, 0, 0), z_dir=(0, -1, 0))):
        with Locations((139.175406235, 36.920855814), (139.175406235, -71.079144186), (-8.824593765, -71.079144186), (-8.824593765, 36.920855814)):
            Hole(D_GAGEMENT_M51_D / 2)

    # Esquisse13 → Enlèv. mat.-Extru.7 (cut)
    with BuildSketch(Plane(origin=(0, 13, 0), x_dir=(1, 0, 0), z_dir=(0, 1, 0))):
        with BuildLine():
            Line((3.324593765, -62.879144186), (-133.675406235, -62.879144186))
            ThreePointArc((-133.675406235, -62.879144186), (-134.382513016, -62.586250967), (-134.675406235, -61.879144186))
            Line((-134.675406235, -61.879144186), (-134.675406235, 22.920855814))
            ThreePointArc((-134.675406235, 22.920855814), (-134.382513016, 23.627962595), (-133.675406235, 23.920855814))
            Line((-133.675406235, 23.920855814), (3.324593765, 23.920855814))
            ThreePointArc((3.324593765, 23.920855814), (4.031700547, 23.627962595), (4.324593765, 22.920855814))
            Line((4.324593765, 22.920855814), (4.324593765, -61.879144186))
            ThreePointArc((4.324593765, -61.879144186), (4.031700547, -62.586250967), (3.324593765, -62.879144186))
        make_face()
    extrude(amount=-ENL_V_MAT_EXTRU_7_DEPTH, mode=Mode.SUBTRACT)

    # Trou pour taraudage pour trou taraudé M31
    with Locations(Plane(origin=(0, 11.3, 0), x_dir=(1, 0, 0), z_dir=(0, 1, 0))):
        with Locations((0.324593765, -58.879144186), (-130.675406235, -58.879144186), (-130.675406235, 15.920855814), (0.324593765, 15.920855814)):
            Hole(TROU_POUR_TARAUDAGE_POUR_TROU_TARAUD_M3_D / 2, depth=TROU_POUR_TARAUDAGE_POUR_TROU_TARAUD_M3_DEPTH)
            with Locations((0, 0, -(TROU_POUR_TARAUDAGE_POUR_TROU_TARAUD_M3_DEPTH + TROU_POUR_TARAUDAGE_POUR_TROU_TARAUD_M3_TIP / 2))):  # 118° drill point
                Cone(0, TROU_POUR_TARAUDAGE_POUR_TROU_TARAUD_M3_D / 2, TROU_POUR_TARAUDAGE_POUR_TROU_TARAUD_M3_TIP, mode=Mode.SUBTRACT)


solid = part.part
